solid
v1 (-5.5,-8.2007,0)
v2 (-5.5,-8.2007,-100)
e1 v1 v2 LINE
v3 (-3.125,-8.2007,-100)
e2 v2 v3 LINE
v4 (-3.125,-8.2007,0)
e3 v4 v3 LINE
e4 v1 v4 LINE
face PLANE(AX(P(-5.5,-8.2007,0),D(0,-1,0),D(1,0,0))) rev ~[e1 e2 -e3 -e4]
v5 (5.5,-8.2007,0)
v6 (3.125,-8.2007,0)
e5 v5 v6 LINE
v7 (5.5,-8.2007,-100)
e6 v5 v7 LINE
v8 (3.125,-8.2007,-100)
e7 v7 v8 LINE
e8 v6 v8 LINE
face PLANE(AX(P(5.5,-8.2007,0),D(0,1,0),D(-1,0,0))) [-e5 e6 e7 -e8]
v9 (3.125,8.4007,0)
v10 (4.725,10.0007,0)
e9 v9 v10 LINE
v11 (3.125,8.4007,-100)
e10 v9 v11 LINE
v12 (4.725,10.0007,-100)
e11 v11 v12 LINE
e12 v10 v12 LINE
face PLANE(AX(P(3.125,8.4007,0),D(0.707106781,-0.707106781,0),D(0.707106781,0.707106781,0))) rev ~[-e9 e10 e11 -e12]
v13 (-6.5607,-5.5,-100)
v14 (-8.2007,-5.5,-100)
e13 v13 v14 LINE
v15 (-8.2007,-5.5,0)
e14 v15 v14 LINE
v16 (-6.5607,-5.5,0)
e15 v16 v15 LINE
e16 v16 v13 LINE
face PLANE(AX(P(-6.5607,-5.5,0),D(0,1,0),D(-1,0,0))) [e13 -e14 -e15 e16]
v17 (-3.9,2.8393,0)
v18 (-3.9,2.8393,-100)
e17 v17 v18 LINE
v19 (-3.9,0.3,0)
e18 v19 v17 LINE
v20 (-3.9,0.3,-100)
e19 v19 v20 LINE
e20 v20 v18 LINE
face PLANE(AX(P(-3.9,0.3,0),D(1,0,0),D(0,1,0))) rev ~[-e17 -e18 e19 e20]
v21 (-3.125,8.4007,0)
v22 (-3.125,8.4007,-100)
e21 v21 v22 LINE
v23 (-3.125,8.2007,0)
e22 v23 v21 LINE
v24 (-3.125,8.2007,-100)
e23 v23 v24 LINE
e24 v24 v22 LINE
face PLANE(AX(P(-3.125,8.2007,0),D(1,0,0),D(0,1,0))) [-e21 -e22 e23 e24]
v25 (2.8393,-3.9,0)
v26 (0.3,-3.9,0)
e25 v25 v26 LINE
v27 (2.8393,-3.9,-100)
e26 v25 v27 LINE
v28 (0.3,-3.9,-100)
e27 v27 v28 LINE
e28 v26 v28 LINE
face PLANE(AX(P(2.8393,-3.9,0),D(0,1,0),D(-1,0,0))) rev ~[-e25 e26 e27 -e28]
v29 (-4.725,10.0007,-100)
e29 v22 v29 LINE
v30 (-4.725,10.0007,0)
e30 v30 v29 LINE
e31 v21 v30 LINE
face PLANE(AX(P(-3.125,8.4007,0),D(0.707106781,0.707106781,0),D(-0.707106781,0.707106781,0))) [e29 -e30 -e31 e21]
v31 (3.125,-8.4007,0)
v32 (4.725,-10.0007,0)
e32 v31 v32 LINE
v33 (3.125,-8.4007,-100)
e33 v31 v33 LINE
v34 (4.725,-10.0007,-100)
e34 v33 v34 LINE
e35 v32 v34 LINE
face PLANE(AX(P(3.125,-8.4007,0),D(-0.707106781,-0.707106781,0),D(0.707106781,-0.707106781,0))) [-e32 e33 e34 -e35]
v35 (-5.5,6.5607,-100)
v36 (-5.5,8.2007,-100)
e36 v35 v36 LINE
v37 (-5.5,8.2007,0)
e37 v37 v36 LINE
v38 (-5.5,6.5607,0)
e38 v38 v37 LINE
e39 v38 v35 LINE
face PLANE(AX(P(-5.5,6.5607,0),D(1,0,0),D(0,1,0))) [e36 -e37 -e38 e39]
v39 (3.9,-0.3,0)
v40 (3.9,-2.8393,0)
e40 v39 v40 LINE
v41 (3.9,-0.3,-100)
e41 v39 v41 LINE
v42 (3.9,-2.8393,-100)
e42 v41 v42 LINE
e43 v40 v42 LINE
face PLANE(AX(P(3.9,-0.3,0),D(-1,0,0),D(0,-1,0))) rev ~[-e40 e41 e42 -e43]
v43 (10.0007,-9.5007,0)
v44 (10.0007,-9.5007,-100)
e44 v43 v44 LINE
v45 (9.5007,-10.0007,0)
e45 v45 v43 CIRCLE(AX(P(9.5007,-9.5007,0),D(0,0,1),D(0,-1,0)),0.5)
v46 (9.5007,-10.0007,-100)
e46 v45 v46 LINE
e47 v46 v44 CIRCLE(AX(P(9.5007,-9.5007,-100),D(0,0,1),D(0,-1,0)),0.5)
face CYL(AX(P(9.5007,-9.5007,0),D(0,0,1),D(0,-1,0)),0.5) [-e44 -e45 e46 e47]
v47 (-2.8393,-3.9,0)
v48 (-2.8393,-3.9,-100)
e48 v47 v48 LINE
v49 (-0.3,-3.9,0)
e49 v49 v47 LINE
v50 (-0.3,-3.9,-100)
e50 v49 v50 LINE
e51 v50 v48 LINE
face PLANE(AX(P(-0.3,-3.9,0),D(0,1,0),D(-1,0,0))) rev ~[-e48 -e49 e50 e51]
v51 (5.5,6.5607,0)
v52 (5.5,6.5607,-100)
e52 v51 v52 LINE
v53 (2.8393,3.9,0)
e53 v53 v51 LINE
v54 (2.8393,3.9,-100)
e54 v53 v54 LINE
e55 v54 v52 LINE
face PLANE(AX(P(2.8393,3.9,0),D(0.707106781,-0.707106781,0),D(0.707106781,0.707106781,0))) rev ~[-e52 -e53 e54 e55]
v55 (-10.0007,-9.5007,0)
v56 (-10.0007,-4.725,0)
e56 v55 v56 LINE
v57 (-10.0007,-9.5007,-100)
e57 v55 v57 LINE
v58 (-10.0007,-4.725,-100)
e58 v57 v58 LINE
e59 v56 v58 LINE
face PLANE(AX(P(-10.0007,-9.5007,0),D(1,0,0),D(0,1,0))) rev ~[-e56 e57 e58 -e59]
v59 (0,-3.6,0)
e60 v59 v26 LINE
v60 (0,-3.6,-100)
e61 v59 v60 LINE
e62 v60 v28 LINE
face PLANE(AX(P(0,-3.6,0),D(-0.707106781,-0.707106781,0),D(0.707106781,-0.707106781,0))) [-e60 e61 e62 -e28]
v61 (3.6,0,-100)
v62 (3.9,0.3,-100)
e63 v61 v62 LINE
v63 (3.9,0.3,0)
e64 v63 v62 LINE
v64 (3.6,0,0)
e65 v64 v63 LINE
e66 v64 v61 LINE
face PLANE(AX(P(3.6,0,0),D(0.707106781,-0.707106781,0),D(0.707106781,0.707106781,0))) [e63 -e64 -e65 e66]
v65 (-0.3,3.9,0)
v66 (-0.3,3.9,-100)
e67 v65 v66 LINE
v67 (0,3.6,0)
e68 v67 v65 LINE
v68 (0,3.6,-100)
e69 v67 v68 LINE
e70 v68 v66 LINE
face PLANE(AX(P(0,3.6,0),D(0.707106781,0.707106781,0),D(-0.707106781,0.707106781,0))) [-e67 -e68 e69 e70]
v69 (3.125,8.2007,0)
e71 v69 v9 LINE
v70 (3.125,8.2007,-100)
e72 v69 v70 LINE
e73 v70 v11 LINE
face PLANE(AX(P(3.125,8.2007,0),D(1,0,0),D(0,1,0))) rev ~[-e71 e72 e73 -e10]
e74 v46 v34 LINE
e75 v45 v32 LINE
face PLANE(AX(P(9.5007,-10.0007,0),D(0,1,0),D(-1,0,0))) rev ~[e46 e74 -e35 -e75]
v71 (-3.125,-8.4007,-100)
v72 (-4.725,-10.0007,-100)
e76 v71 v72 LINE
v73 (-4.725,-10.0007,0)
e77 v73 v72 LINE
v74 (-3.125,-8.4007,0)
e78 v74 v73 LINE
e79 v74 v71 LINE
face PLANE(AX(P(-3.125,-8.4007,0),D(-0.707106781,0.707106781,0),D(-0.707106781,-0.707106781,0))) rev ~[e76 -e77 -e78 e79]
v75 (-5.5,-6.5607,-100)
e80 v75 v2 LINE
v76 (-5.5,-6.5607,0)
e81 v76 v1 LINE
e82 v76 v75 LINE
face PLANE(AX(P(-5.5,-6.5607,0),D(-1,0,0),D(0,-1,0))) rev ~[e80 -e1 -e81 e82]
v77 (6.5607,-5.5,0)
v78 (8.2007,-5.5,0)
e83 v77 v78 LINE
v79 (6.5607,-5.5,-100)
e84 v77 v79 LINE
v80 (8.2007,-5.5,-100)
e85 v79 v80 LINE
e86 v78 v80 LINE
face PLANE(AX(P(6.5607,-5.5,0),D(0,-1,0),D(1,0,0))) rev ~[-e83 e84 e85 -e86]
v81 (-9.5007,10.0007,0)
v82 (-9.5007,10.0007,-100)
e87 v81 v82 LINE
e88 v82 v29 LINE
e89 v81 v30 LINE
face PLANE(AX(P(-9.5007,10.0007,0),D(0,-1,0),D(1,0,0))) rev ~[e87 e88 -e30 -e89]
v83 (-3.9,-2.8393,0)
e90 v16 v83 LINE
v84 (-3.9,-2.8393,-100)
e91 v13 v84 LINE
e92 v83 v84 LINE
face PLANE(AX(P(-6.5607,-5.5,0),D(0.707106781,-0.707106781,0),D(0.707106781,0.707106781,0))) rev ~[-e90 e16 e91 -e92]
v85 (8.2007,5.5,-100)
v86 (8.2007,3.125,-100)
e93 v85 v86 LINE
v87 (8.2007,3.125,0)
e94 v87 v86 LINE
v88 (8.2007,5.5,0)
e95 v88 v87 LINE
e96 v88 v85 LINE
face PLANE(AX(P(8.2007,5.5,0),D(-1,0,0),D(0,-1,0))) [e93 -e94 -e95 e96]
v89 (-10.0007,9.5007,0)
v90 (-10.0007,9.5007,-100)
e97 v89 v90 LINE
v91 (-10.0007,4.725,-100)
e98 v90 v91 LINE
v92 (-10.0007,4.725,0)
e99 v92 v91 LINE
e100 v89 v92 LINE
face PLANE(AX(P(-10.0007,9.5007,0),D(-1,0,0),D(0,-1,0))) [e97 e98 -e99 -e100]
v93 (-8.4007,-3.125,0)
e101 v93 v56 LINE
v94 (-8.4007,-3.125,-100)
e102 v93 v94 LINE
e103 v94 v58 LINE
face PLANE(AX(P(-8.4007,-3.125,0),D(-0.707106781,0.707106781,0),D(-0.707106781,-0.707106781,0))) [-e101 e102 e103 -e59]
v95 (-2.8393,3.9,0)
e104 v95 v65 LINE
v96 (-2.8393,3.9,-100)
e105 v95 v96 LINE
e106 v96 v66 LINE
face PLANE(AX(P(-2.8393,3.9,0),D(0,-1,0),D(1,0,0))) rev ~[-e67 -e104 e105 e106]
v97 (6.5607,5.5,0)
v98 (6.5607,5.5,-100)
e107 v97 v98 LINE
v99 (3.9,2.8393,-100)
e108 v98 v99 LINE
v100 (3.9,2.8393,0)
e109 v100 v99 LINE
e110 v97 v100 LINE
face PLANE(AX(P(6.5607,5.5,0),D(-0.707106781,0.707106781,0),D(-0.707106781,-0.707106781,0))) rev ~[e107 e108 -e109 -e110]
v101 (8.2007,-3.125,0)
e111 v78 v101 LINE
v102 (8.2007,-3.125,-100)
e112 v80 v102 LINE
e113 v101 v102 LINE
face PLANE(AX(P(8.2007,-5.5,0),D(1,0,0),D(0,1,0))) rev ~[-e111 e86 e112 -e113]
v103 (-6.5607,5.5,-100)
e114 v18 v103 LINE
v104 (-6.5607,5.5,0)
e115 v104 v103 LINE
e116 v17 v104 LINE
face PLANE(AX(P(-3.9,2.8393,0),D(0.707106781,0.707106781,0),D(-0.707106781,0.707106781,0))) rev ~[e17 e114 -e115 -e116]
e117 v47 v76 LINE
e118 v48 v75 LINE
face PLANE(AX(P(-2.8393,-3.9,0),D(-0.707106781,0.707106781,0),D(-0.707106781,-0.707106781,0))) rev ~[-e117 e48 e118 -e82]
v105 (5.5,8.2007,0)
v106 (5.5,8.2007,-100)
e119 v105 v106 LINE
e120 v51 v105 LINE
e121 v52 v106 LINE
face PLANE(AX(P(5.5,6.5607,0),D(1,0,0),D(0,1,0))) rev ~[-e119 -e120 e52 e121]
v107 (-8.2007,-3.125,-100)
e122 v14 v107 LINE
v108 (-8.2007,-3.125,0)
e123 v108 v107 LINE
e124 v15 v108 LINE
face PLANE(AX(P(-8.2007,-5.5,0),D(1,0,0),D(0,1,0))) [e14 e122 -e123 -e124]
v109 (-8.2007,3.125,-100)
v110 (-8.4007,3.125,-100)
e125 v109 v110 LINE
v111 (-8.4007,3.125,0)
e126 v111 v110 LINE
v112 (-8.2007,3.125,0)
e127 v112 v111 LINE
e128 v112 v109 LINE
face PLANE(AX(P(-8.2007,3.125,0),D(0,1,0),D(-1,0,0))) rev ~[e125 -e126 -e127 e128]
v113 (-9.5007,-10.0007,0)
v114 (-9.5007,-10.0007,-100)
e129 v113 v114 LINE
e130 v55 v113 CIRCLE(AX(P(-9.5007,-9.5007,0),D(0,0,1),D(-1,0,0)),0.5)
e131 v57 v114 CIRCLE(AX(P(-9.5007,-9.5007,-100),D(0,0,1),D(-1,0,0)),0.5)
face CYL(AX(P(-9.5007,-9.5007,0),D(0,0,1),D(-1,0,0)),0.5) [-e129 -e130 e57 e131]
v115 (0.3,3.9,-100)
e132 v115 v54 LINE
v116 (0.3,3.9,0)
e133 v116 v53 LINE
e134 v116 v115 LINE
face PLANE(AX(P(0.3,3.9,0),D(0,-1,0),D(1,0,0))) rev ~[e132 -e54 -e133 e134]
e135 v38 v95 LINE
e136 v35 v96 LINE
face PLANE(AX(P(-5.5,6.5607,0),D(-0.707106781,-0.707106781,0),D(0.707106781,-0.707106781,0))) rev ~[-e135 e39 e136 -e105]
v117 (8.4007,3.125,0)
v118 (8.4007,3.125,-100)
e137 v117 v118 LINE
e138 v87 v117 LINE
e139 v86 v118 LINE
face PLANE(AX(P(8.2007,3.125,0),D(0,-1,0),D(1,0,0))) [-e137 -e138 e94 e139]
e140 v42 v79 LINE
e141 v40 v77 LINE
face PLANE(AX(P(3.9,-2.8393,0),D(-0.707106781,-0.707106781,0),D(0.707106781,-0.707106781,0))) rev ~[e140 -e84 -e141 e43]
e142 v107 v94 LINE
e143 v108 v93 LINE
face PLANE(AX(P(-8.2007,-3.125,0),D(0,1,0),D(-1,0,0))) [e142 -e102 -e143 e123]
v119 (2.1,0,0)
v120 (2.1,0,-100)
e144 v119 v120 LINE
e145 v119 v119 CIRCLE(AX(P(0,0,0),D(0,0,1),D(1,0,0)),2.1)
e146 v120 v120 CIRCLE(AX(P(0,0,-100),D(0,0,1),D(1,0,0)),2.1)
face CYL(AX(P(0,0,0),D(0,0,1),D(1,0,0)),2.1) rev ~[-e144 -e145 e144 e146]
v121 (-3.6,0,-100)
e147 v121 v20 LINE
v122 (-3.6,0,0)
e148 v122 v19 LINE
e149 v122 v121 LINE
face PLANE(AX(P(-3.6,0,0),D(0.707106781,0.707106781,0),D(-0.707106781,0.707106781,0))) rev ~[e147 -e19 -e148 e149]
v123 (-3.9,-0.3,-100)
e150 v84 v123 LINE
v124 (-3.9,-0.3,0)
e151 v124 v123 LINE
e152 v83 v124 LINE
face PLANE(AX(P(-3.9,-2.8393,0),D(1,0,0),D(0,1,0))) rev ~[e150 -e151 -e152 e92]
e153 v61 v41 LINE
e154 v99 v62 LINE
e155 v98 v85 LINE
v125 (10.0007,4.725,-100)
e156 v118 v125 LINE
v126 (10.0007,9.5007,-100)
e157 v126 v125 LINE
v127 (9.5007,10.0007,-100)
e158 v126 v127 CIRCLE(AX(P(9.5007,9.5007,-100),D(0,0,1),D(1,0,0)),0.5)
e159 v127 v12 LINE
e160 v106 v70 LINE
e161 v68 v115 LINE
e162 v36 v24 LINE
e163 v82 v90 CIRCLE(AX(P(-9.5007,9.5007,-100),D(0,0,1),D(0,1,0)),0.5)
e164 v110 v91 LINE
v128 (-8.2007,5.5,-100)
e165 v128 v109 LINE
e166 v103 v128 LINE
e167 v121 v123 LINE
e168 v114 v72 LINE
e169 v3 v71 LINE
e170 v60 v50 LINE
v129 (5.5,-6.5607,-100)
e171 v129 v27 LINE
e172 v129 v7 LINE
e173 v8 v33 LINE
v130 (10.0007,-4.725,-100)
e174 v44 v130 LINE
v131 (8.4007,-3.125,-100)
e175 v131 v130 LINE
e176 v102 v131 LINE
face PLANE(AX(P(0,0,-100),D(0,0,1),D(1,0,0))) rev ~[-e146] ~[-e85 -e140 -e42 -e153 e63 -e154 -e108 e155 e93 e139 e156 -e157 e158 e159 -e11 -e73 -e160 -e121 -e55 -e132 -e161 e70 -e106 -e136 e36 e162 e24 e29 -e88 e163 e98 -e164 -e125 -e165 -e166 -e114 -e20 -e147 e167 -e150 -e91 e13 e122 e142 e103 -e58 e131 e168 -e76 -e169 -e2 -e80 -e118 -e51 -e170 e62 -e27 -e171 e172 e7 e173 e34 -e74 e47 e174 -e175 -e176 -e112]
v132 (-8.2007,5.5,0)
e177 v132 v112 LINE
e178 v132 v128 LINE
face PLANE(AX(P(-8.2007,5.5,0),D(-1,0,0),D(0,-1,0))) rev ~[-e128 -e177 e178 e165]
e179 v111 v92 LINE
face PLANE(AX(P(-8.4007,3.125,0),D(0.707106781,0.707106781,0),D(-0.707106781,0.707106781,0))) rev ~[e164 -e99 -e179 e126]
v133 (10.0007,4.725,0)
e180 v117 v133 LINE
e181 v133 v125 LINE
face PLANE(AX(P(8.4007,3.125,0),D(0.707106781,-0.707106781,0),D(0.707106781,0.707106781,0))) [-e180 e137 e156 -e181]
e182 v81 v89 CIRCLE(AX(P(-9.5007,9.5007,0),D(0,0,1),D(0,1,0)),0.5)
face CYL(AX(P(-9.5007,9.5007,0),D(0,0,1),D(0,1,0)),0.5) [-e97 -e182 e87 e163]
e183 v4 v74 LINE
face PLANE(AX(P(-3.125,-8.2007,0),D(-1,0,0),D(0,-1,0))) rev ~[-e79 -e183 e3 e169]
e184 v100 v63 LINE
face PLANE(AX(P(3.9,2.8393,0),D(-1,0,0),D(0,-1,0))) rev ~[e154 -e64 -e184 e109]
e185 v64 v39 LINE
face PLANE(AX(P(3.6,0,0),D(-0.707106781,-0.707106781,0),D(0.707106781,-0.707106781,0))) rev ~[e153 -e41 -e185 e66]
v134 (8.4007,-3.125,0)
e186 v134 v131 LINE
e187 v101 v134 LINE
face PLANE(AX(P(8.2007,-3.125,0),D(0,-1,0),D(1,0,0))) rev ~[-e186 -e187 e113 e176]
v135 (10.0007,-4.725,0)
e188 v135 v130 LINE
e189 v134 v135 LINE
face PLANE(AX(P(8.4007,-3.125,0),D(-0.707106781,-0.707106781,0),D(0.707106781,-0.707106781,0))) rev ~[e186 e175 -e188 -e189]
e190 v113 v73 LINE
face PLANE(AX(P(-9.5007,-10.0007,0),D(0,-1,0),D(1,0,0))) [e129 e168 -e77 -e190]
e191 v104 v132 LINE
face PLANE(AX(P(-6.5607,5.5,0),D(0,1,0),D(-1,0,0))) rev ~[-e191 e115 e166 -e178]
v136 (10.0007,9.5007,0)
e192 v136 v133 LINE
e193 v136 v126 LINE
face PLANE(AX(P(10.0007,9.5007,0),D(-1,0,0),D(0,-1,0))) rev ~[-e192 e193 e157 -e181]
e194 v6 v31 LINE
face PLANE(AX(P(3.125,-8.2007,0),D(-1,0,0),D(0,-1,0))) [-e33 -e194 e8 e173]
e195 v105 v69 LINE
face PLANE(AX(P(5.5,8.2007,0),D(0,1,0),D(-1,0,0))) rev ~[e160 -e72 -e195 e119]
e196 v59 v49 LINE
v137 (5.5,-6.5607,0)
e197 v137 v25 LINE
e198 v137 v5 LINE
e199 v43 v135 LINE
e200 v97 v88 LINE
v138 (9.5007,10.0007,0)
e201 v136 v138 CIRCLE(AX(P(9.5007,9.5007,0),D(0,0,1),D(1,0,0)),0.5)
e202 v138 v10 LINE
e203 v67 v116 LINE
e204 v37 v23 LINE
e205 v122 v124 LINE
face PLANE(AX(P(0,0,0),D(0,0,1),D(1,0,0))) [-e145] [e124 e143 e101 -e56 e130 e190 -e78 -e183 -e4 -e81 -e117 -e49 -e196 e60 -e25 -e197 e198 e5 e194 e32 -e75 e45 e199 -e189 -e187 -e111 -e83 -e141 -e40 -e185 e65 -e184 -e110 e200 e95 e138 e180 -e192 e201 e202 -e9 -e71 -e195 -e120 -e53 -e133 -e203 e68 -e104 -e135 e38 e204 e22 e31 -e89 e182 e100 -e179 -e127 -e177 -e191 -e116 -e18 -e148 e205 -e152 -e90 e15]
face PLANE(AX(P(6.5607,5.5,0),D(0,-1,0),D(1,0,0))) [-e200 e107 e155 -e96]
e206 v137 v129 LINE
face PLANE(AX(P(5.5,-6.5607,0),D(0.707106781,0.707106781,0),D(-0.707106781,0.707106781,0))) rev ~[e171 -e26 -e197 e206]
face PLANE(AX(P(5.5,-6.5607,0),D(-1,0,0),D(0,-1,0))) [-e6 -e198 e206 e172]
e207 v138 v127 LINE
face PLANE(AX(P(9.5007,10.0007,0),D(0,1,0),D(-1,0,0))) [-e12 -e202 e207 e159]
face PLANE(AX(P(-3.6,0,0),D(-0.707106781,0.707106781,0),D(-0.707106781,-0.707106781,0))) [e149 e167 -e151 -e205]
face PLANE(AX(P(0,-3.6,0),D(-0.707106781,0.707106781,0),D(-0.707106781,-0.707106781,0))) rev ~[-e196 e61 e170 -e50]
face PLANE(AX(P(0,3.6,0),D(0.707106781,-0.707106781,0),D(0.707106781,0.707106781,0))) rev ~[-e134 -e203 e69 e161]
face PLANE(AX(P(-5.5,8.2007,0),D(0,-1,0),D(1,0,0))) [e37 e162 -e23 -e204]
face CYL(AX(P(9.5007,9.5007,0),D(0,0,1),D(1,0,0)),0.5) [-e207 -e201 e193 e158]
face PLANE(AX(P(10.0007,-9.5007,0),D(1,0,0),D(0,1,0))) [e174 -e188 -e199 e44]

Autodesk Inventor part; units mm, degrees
ref_plane "YZ Plane" through (0, 0, 0) normal (1, 0, 0) x (0, 1, 0)
ref_plane "XZ Plane" through (0, 0, 0) normal (0, 1, 0) x (-1, 0, 0)
ref_plane "XY Plane" through (0, 0, 0) normal (0, 0, 1) x (1, 0, 0)
sketch "Sketch2" plane through (0, 0, 0) normal (0, 0, 1) x (1, 0, 0)
  arc A0 (-27.4375, 16.3608) -> (-26.9375, 16.8608) centre (-27.4375, 16.8608) ccw
  line L0 (-45.4375, 36.3608) -> (-46.4375, 36.3608)
  line L1 (-46.9375, 34.8608) -> (-46.9375, 35.8608)
  line L2 (-28.4375, 36.3608) -> (-27.4375, 36.3608)
  line L3 (-26.9375, 17.8608) -> (-26.9375, 16.8608)
  line L4 (-28.4375, 16.3608) -> (-27.4375, 16.3608)
  line L5 (-26.9375, 31.1923) -> (-26.9375, 35.8608)
  line L6 (-46.4375, 16.3608) -> (-41.7689, 16.3608)
  line L7 (-46.9375, 17.8608) -> (-46.9375, 16.8608)
  arc A1 (-46.9375, 16.8608) -> (-46.4375, 16.3608) centre (-46.4375, 16.8608) ccw
  arc A2 (-46.9375, 16.8608) -> (-46.4375, 16.3608) centre (-46.4375, 16.8608) ccw
  arc A3 (-46.4375, 36.3608) -> (-46.9375, 35.8608) centre (-46.4375, 35.8608) ccw
  arc A4 (-26.9375, 35.8608) -> (-27.4375, 36.3608) centre (-27.4375, 35.8608) ccw
  line L8 (-41.5004, 36.2982) -> (-41.5366, 36.3146)
  line L9 (-46.812, 30.8227) -> (-46.8352, 30.855)
  line L10 (-46.9375, 17.8608) -> (-46.9375, 21.4608)
  line L11 (-46.9362, 21.5691) -> (-46.9375, 21.4608)
  line L12 (-46.9258, 21.6478) -> (-46.9323, 21.6086)
  line L13 (-46.9323, 21.6086) -> (-46.9362, 21.5691)
  line L14 (-46.9168, 21.6865) -> (-46.9258, 21.6478)
  line L15 (-46.9053, 21.7245) -> (-46.9168, 21.6865)
  line L16 (-46.8913, 21.7617) -> (-46.9053, 21.7245)
  line L17 (-46.8749, 21.7979) -> (-46.8913, 21.7617)
  line L18 (-46.8561, 21.8329) -> (-46.8749, 21.7979)
  line L19 (-46.812, 21.8989) -> (-46.8352, 21.8667)
  line L20 (-46.8352, 21.8667) -> (-46.8561, 21.8329)
  line L21 (-41.4654, 36.2795) -> (-41.5004, 36.2982)
  line L22 (-46.7868, 21.9297) -> (-46.812, 21.8989)
  line L23 (-46.7597, 21.9586) -> (-46.7868, 21.9297)
  line L24 (-46.7597, 21.9586) -> (-45.2441, 23.4742)
  line L25 (-45.2441, 23.4742) -> (-45.1375, 23.4742)
  line L26 (-45.1375, 23.4742) -> (-45.1375, 20.8608)
  line L27 (-45.1375, 20.8608) -> (-43.4981, 20.8608)
  line L28 (-43.4981, 20.8608) -> (-40.8375, 23.5215)
  line L29 (-46.7868, 30.792) -> (-46.812, 30.8227)
  line L30 (-40.8375, 26.161) -> (-40.8375, 23.5215)
  line L31 (-40.6376, 26.3608) -> (-40.8375, 26.161)
  line L32 (-40.6376, 26.3608) -> (-40.8375, 26.5607)
  line L33 (-40.8375, 29.2002) -> (-40.8375, 26.5607)
  line L34 (-43.4981, 31.8608) -> (-40.8375, 29.2002)
  line L35 (-45.1375, 31.8608) -> (-43.4981, 31.8608)
  line L36 (-45.1375, 29.2475) -> (-45.1375, 31.8608)
  line L37 (-46.7597, 30.763) -> (-46.7868, 30.792)
  line L38 (-45.2441, 29.2475) -> (-45.1375, 29.2475)
  line L39 (-45.2441, 29.2475) -> (-46.7597, 30.763)
  line L40 (-28.7375, 20.8608) -> (-30.3768, 20.8608)
  line L41 (-41.5738, 36.3286) -> (-41.6118, 36.3402)
  line L42 (-41.3687, 36.2102) -> (-41.3994, 36.2354)
  line L43 (-41.3397, 36.183) -> (-41.3687, 36.2102)
  line L44 (-41.6118, 36.3402) -> (-41.6505, 36.3492)
  line L45 (-41.7292, 16.3621) -> (-41.7689, 16.3608)
  line L46 (-41.6897, 16.366) -> (-41.7292, 16.3621)
  line L47 (-41.6505, 16.3725) -> (-41.6897, 16.366)
  line L48 (-41.6118, 16.3815) -> (-41.6505, 16.3725)
  line L49 (-41.5738, 16.3931) -> (-41.6118, 16.3815)
  line L50 (-41.5366, 16.4071) -> (-41.5738, 16.3931)
  line L51 (-42.4375, 32.9215) -> (-39.7768, 30.2608)
  line L52 (-41.5004, 16.4235) -> (-41.5366, 16.4071)
  line L53 (-41.4654, 16.4422) -> (-41.5004, 16.4235)
  line L54 (-41.4317, 16.4632) -> (-41.4654, 16.4422)
  line L55 (-41.3994, 16.4863) -> (-41.4317, 16.4632)
  line L56 (-41.3687, 16.5115) -> (-41.3994, 16.4863)
  line L57 (-41.3397, 16.5386) -> (-41.3687, 16.5115)
  line L58 (-41.3397, 16.5386) -> (-39.8241, 18.0542)
  line L59 (-39.8241, 18.0542) -> (-39.8241, 18.1608)
  line L60 (-39.8241, 18.1608) -> (-42.4375, 18.1608)
  line L61 (-42.4375, 18.1608) -> (-42.4375, 19.8002)
  line L62 (-42.4375, 19.8002) -> (-39.7768, 22.4608)
  line L63 (-39.7768, 22.4608) -> (-37.1444, 22.4608)
  line L64 (-37.1444, 22.4608) -> (-36.9375, 22.6656)
  line L65 (-36.9375, 22.6656) -> (-36.7327, 22.4608)
  line L66 (-36.7327, 22.4608) -> (-34.0981, 22.4608)
  line L67 (-34.0981, 22.4608) -> (-31.4375, 19.8002)
  line L68 (-31.4375, 18.1608) -> (-31.4375, 19.8002)
  line L69 (-41.3397, 36.183) -> (-39.8241, 34.6675)
  line L70 (-34.0508, 18.1608) -> (-31.4375, 18.1608)
  line L71 (-41.6505, 36.3492) -> (-41.6897, 36.3557)
  line L72 (-34.0508, 18.0542) -> (-34.0508, 18.1608)
  line L73 (-34.0508, 18.0542) -> (-32.5353, 16.5387)
  line L74 (-32.5353, 16.5387) -> (-32.5063, 16.5115)
  line L75 (-32.5063, 16.5115) -> (-32.4756, 16.4863)
  line L76 (-32.4756, 16.4863) -> (-32.4433, 16.4632)
  line L77 (-32.4433, 16.4632) -> (-32.4096, 16.4422)
  line L78 (-32.4096, 16.4422) -> (-32.3745, 16.4235)
  line L79 (-32.3745, 16.4235) -> (-32.3383, 16.4071)
  line L80 (-32.3383, 16.4071) -> (-32.3012, 16.3931)
  line L81 (-32.3012, 16.3931) -> (-32.2631, 16.3815)
  line L82 (-32.2631, 16.3815) -> (-32.2245, 16.3725)
  line L83 (-32.2245, 16.3725) -> (-32.1853, 16.366)
  line L84 (-32.1853, 16.366) -> (-32.1457, 16.3621)
  line L85 (-32.1457, 16.3621) -> (-32.106, 16.3608)
  line L86 (-28.4375, 16.3608) -> (-32.106, 16.3608)
  line L87 (-39.8241, 34.6675) -> (-39.8241, 34.5608)
  line L88 (-41.6897, 36.3557) -> (-41.7292, 36.3595)
  line L89 (-26.9375, 17.8608) -> (-26.9375, 21.5294)
  line L90 (-26.9388, 21.5691) -> (-26.9375, 21.5294)
  line L91 (-26.9427, 21.6086) -> (-26.9388, 21.5691)
  line L92 (-26.9491, 21.6478) -> (-26.9427, 21.6086)
  line L93 (-26.9582, 21.6865) -> (-26.9491, 21.6478)
  line L94 (-26.9697, 21.7245) -> (-26.9582, 21.6865)
  line L95 (-26.9837, 21.7617) -> (-26.9697, 21.7245)
  line L96 (-27.0001, 21.7979) -> (-26.9837, 21.7617)
  line L97 (-41.7292, 36.3595) -> (-41.7689, 36.3608)
  line L98 (-27.0188, 21.8329) -> (-27.0001, 21.7979)
  line L99 (-27.0398, 21.8667) -> (-27.0188, 21.8329)
  line L100 (-27.0629, 21.8989) -> (-27.0398, 21.8667)
  line L101 (-27.0881, 21.9297) -> (-27.0629, 21.8989)
  line L102 (-27.1153, 21.9587) -> (-27.0881, 21.9297)
  line L103 (-28.6308, 23.4742) -> (-27.1153, 21.9587)
  line L104 (-28.6308, 23.4742) -> (-28.7375, 23.4742)
  line L105 (-28.7375, 23.4742) -> (-28.7375, 20.8608)
  line L106 (-32.3012, 36.3286) -> (-32.2631, 36.3402)
  line L107 (-30.3768, 20.8608) -> (-33.0375, 23.5215)
  line L108 (-33.0375, 23.5215) -> (-33.0375, 26.161)
  line L109 (-33.2373, 26.3608) -> (-33.0375, 26.161)
  line L110 (-33.2373, 26.3608) -> (-33.0375, 26.5607)
  line L111 (-33.0375, 29.2002) -> (-33.0375, 26.5607)
  line L112 (-30.3768, 31.8608) -> (-33.0375, 29.2002)
  line L113 (-45.4375, 36.3608) -> (-41.7689, 36.3608)
  line L114 (-28.6308, 29.2475) -> (-28.7375, 29.2475)
  line L115 (-28.7375, 31.8608) -> (-30.3768, 31.8608)
  line L116 (-28.7375, 29.2475) -> (-28.7375, 31.8608)
  line L117 (-27.1153, 30.763) -> (-28.6308, 29.2475)
  line L118 (-27.1153, 30.763) -> (-27.0881, 30.792)
  line L119 (-27.0881, 30.792) -> (-27.0629, 30.8227)
  line L120 (-27.0629, 30.8227) -> (-27.0398, 30.855)
  line L121 (-27.0398, 30.855) -> (-27.0188, 30.8888)
  line L122 (-27.0188, 30.8888) -> (-27.0001, 30.9238)
  line L123 (-27.0001, 30.9238) -> (-26.9837, 30.96)
  line L124 (-26.9837, 30.96) -> (-26.9697, 30.9972)
  line L125 (-26.9697, 30.9972) -> (-26.9582, 31.0352)
  line L126 (-26.9582, 31.0352) -> (-26.9491, 31.0739)
  line L127 (-26.9491, 31.0739) -> (-26.9427, 31.1131)
  line L128 (-26.9427, 31.1131) -> (-26.9388, 31.1526)
  line L129 (-26.9388, 31.1526) -> (-26.9375, 31.1923)
  line L130 (-39.8241, 34.5608) -> (-42.4375, 34.5608)
  line L131 (-28.4375, 36.3608) -> (-32.106, 36.3608)
  line L132 (-32.1457, 36.3595) -> (-32.106, 36.3608)
  line L133 (-32.1853, 36.3557) -> (-32.1457, 36.3595)
  line L134 (-32.2631, 36.3402) -> (-32.2245, 36.3492)
  line L135 (-32.3383, 36.3146) -> (-32.3012, 36.3286)
  line L136 (-32.3745, 36.2982) -> (-32.3383, 36.3146)
  line L137 (-32.4096, 36.2795) -> (-32.3745, 36.2982)
  line L138 (-32.4433, 36.2585) -> (-32.4096, 36.2795)
  line L139 (-32.4756, 36.2354) -> (-32.4433, 36.2585)
  line L140 (-32.5063, 36.2102) -> (-32.4756, 36.2354)
  line L141 (-46.9323, 31.1131) -> (-46.9362, 31.1526)
  line L142 (-34.0508, 34.6675) -> (-32.5353, 36.183)
  line L143 (-34.0508, 34.6675) -> (-34.0508, 34.5608)
  line L144 (-34.0508, 34.5608) -> (-31.4375, 34.5608)
  line L145 (-31.4375, 34.5608) -> (-31.4375, 32.9215)
  line L146 (-34.0981, 30.2608) -> (-31.4375, 32.9215)
  line L147 (-34.0981, 30.2608) -> (-36.7327, 30.2608)
  line L148 (-42.4375, 34.5608) -> (-42.4375, 32.9215)
  line L149 (-36.7327, 30.2608) -> (-36.9375, 30.0561)
  line L150 (-37.1422, 30.2608) -> (-36.9375, 30.0561)
  line L151 (-39.7768, 30.2608) -> (-37.1422, 30.2608)
  line L152 (-32.5353, 36.183) -> (-32.5063, 36.2102)
  line L153 (-41.3994, 36.2354) -> (-41.4317, 36.2585)
  line L154 (-46.9258, 31.0739) -> (-46.9323, 31.1131)
  line L155 (-41.4317, 36.2585) -> (-41.4654, 36.2795)
  line L156 (-46.9362, 31.1526) -> (-46.9375, 31.2608)
  line L157 (-46.9168, 31.0352) -> (-46.9258, 31.0739)
  line L158 (-46.9375, 34.8608) -> (-46.9375, 31.2608)
  line L159 (-46.9053, 30.9972) -> (-46.9168, 31.0352)
  line L160 (-46.8913, 30.96) -> (-46.9053, 30.9972)
  line L161 (-46.8749, 30.9238) -> (-46.8913, 30.96)
  line L162 (-46.8561, 30.8888) -> (-46.8749, 30.9238)
  line L163 (-32.2245, 36.3492) -> (-32.1853, 36.3557)
  line L164 (-41.5366, 36.3146) -> (-41.5738, 36.3286)
  line L165 (-46.8352, 30.855) -> (-46.8561, 30.8888)
  circle A5 centre (-36.9375, 26.3608) radius 2.1
  line L166 (3.9, -0.3) -> (3.9, -2.8393)
  line L167 (2.8393, -3.9) -> (0.3, -3.9)
  line L168 (5.5, -6.5607) -> (2.8393, -3.9)
  line L169 (3.9, -2.8393) -> (6.5607, -5.5)
  line L170 (6.5607, -5.5) -> (8.2007, -5.5)
  line L171 (8.2007, -5.5) -> (8.2007, -3.125)
  line L172 (8.2007, -3.125) -> (8.4007, -3.125)
  line L173 (8.4007, -3.125) -> (10.0007, -4.725)
  line L174 (10.0007, -9.5007) -> (10.0007, -4.725)
  line L175 (5.5, -6.5607) -> (5.5, -8.2007)
  line L176 (5.5, -8.2007) -> (3.125, -8.2007)
  line L177 (3.125, -8.2007) -> (3.125, -8.4007)
  line L178 (3.125, -8.4007) -> (4.725, -10.0007)
  line L179 (9.5007, -10.0007) -> (4.725, -10.0007)
  arc A6 (9.5007, -10.0007) -> (10.0007, -9.5007) centre (9.5007, -9.5007) ccw
  line L180 (0, -3.6) -> (0.3, -3.9)
  line L181 (3.6, 0) -> (3.9, -0.3)
  line L182 (3.125, 8.2007) -> (3.125, 8.4007)
  line L183 (0.3, 3.9) -> (2.8393, 3.9)
  line L184 (5.5, 8.2007) -> (3.125, 8.2007)
  line L185 (2.8393, 3.9) -> (5.5, 6.5607)
  line L186 (3.9, 2.8393) -> (3.9, 0.3)
  line L187 (3.6, 0) -> (3.9, 0.3)
  line L188 (6.5607, 5.5) -> (3.9, 2.8393)
  line L189 (5.5, 6.5607) -> (5.5, 8.2007)
  line L190 (3.125, 8.4007) -> (4.725, 10.0007)
  line L191 (6.5607, 5.5) -> (8.2007, 5.5)
  line L192 (8.2007, 5.5) -> (8.2007, 3.125)
  line L193 (8.2007, 3.125) -> (8.4007, 3.125)
  line L194 (8.4007, 3.125) -> (10.0007, 4.725)
  line L195 (9.5007, 10.0007) -> (4.725, 10.0007)
  arc A7 (10.0007, 9.5007) -> (9.5007, 10.0007) centre (9.5007, 9.5007) ccw
  line L196 (10.0007, 9.5007) -> (10.0007, 4.725)
  line L197 (0, 3.6) -> (0.3, 3.9)
  line L198 (-8.2007, 3.125) -> (-8.4007, 3.125)
  line L199 (-3.9, 0.3) -> (-3.9, 2.8393)
  line L200 (-8.2007, 5.5) -> (-8.2007, 3.125)
  line L201 (-3.9, 2.8393) -> (-6.5607, 5.5)
  line L202 (-2.8393, 3.9) -> (-0.3, 3.9)
  line L203 (0, 3.6) -> (-0.3, 3.9)
  line L204 (-5.5, 6.5607) -> (-2.8393, 3.9)
  line L205 (-6.5607, 5.5) -> (-8.2007, 5.5)
  line L206 (-8.4007, 3.125) -> (-10.0007, 4.725)
  line L207 (-5.5, 6.5607) -> (-5.5, 8.2007)
  line L208 (-5.5, 8.2007) -> (-3.125, 8.2007)
  line L209 (-3.125, 8.2007) -> (-3.125, 8.4007)
  line L210 (-3.125, 8.4007) -> (-4.725, 10.0007)
  line L211 (-10.0007, 9.5007) -> (-10.0007, 4.725)
  arc A8 (-9.5007, 10.0007) -> (-10.0007, 9.5007) centre (-9.5007, 9.5007) ccw
  line L212 (-9.5007, 10.0007) -> (-4.725, 10.0007)
  line L213 (-3.6, 0) -> (-3.9, 0.3)
  line L214 (-3.125, -8.2007) -> (-3.125, -8.4007)
  line L215 (-0.3, -3.9) -> (-2.8393, -3.9)
  line L216 (-5.5, -8.2007) -> (-3.125, -8.2007)
  line L217 (-2.8393, -3.9) -> (-5.5, -6.5607)
  line L218 (-3.9, -2.8393) -> (-3.9, -0.3)
  line L219 (-3.6, 0) -> (-3.9, -0.3)
  line L220 (-6.5607, -5.5) -> (-3.9, -2.8393)
  line L221 (-5.5, -6.5607) -> (-5.5, -8.2007)
  line L222 (-3.125, -8.4007) -> (-4.725, -10.0007)
  line L223 (-6.5607, -5.5) -> (-8.2007, -5.5)
  line L224 (-8.2007, -5.5) -> (-8.2007, -3.125)
  line L225 (-8.2007, -3.125) -> (-8.4007, -3.125)
  line L226 (-8.4007, -3.125) -> (-10.0007, -4.725)
  line L227 (-9.5007, -10.0007) -> (-4.725, -10.0007)
  arc A9 (-10.0007, -9.5007) -> (-9.5007, -10.0007) centre (-9.5007, -9.5007) ccw
  line L228 (-10.0007, -9.5007) -> (-10.0007, -4.725)
  line L229 (0, -3.6) -> (-0.3, -3.9)
  circle A10 centre (0, 0) radius 2.1
  point P0 (0, -3.9)
  point P1 (3.9, 0)
  point P2 (3.9, 0)
  point P3 (0, 3.9)
  point P4 (0, 3.9)
  point P5 (3.9, 0)
  point P6 (-3.9, 0)
  point P7 (-3.9, 0)
  point P8 (0, 3.9)
  point P9 (0, -3.9)
  point P10 (0, -3.9)
  point P11 (-3.9, 0)
  dimension "d1" = 4.2
  dimension "d2" = 1.5
  dimension "d4" = 3.9
  dimension "d5" = 3.9
  dimension "d7" = 1.5
  dimension "d9" = 1.64
  dimension "d10" = 135
  dimension "d11" = 1.8
  dimension "d12" = 3.125
  dimension "d13" = 5.5
  dimension "d14" = 45
  dimension "d15" = 0.2
  dimension "d16" = 0.5
  dimension "d17" = 0.3
  dimension "d18" = 0.3
  dimension "d19" = 0.3
  dimension "d20" = 0.3
  dimension "d23" = 360
  dimension "d25" = 4.2
extrude "Extrusion1" add sketch "Sketch2" against normal blind 100 contours L166 L169 L170 L171 L172 L173 L174 A6 L179 L178 L177 L176 L175 L168 L167 L180 L229 L215 L217 L221 L216 L214 L222 L227 A9 L228 L226 L225 L224 L223 L220 L218 L219 L213 L199 L201 L205 L200 L198 L206 L211 A8 L212 L210 L209 L208 L207 L204 L202 L203 L197 L183 L185 L189 L184 L182 L190 L195 A7 L196 L194 L193 L192 L191 L188 L186 L187 L181
equation "\"d5\" = d4"
equation "\"d18\" = d17"
equation "\"d20\" = d19"
properties part number "v-slot"
